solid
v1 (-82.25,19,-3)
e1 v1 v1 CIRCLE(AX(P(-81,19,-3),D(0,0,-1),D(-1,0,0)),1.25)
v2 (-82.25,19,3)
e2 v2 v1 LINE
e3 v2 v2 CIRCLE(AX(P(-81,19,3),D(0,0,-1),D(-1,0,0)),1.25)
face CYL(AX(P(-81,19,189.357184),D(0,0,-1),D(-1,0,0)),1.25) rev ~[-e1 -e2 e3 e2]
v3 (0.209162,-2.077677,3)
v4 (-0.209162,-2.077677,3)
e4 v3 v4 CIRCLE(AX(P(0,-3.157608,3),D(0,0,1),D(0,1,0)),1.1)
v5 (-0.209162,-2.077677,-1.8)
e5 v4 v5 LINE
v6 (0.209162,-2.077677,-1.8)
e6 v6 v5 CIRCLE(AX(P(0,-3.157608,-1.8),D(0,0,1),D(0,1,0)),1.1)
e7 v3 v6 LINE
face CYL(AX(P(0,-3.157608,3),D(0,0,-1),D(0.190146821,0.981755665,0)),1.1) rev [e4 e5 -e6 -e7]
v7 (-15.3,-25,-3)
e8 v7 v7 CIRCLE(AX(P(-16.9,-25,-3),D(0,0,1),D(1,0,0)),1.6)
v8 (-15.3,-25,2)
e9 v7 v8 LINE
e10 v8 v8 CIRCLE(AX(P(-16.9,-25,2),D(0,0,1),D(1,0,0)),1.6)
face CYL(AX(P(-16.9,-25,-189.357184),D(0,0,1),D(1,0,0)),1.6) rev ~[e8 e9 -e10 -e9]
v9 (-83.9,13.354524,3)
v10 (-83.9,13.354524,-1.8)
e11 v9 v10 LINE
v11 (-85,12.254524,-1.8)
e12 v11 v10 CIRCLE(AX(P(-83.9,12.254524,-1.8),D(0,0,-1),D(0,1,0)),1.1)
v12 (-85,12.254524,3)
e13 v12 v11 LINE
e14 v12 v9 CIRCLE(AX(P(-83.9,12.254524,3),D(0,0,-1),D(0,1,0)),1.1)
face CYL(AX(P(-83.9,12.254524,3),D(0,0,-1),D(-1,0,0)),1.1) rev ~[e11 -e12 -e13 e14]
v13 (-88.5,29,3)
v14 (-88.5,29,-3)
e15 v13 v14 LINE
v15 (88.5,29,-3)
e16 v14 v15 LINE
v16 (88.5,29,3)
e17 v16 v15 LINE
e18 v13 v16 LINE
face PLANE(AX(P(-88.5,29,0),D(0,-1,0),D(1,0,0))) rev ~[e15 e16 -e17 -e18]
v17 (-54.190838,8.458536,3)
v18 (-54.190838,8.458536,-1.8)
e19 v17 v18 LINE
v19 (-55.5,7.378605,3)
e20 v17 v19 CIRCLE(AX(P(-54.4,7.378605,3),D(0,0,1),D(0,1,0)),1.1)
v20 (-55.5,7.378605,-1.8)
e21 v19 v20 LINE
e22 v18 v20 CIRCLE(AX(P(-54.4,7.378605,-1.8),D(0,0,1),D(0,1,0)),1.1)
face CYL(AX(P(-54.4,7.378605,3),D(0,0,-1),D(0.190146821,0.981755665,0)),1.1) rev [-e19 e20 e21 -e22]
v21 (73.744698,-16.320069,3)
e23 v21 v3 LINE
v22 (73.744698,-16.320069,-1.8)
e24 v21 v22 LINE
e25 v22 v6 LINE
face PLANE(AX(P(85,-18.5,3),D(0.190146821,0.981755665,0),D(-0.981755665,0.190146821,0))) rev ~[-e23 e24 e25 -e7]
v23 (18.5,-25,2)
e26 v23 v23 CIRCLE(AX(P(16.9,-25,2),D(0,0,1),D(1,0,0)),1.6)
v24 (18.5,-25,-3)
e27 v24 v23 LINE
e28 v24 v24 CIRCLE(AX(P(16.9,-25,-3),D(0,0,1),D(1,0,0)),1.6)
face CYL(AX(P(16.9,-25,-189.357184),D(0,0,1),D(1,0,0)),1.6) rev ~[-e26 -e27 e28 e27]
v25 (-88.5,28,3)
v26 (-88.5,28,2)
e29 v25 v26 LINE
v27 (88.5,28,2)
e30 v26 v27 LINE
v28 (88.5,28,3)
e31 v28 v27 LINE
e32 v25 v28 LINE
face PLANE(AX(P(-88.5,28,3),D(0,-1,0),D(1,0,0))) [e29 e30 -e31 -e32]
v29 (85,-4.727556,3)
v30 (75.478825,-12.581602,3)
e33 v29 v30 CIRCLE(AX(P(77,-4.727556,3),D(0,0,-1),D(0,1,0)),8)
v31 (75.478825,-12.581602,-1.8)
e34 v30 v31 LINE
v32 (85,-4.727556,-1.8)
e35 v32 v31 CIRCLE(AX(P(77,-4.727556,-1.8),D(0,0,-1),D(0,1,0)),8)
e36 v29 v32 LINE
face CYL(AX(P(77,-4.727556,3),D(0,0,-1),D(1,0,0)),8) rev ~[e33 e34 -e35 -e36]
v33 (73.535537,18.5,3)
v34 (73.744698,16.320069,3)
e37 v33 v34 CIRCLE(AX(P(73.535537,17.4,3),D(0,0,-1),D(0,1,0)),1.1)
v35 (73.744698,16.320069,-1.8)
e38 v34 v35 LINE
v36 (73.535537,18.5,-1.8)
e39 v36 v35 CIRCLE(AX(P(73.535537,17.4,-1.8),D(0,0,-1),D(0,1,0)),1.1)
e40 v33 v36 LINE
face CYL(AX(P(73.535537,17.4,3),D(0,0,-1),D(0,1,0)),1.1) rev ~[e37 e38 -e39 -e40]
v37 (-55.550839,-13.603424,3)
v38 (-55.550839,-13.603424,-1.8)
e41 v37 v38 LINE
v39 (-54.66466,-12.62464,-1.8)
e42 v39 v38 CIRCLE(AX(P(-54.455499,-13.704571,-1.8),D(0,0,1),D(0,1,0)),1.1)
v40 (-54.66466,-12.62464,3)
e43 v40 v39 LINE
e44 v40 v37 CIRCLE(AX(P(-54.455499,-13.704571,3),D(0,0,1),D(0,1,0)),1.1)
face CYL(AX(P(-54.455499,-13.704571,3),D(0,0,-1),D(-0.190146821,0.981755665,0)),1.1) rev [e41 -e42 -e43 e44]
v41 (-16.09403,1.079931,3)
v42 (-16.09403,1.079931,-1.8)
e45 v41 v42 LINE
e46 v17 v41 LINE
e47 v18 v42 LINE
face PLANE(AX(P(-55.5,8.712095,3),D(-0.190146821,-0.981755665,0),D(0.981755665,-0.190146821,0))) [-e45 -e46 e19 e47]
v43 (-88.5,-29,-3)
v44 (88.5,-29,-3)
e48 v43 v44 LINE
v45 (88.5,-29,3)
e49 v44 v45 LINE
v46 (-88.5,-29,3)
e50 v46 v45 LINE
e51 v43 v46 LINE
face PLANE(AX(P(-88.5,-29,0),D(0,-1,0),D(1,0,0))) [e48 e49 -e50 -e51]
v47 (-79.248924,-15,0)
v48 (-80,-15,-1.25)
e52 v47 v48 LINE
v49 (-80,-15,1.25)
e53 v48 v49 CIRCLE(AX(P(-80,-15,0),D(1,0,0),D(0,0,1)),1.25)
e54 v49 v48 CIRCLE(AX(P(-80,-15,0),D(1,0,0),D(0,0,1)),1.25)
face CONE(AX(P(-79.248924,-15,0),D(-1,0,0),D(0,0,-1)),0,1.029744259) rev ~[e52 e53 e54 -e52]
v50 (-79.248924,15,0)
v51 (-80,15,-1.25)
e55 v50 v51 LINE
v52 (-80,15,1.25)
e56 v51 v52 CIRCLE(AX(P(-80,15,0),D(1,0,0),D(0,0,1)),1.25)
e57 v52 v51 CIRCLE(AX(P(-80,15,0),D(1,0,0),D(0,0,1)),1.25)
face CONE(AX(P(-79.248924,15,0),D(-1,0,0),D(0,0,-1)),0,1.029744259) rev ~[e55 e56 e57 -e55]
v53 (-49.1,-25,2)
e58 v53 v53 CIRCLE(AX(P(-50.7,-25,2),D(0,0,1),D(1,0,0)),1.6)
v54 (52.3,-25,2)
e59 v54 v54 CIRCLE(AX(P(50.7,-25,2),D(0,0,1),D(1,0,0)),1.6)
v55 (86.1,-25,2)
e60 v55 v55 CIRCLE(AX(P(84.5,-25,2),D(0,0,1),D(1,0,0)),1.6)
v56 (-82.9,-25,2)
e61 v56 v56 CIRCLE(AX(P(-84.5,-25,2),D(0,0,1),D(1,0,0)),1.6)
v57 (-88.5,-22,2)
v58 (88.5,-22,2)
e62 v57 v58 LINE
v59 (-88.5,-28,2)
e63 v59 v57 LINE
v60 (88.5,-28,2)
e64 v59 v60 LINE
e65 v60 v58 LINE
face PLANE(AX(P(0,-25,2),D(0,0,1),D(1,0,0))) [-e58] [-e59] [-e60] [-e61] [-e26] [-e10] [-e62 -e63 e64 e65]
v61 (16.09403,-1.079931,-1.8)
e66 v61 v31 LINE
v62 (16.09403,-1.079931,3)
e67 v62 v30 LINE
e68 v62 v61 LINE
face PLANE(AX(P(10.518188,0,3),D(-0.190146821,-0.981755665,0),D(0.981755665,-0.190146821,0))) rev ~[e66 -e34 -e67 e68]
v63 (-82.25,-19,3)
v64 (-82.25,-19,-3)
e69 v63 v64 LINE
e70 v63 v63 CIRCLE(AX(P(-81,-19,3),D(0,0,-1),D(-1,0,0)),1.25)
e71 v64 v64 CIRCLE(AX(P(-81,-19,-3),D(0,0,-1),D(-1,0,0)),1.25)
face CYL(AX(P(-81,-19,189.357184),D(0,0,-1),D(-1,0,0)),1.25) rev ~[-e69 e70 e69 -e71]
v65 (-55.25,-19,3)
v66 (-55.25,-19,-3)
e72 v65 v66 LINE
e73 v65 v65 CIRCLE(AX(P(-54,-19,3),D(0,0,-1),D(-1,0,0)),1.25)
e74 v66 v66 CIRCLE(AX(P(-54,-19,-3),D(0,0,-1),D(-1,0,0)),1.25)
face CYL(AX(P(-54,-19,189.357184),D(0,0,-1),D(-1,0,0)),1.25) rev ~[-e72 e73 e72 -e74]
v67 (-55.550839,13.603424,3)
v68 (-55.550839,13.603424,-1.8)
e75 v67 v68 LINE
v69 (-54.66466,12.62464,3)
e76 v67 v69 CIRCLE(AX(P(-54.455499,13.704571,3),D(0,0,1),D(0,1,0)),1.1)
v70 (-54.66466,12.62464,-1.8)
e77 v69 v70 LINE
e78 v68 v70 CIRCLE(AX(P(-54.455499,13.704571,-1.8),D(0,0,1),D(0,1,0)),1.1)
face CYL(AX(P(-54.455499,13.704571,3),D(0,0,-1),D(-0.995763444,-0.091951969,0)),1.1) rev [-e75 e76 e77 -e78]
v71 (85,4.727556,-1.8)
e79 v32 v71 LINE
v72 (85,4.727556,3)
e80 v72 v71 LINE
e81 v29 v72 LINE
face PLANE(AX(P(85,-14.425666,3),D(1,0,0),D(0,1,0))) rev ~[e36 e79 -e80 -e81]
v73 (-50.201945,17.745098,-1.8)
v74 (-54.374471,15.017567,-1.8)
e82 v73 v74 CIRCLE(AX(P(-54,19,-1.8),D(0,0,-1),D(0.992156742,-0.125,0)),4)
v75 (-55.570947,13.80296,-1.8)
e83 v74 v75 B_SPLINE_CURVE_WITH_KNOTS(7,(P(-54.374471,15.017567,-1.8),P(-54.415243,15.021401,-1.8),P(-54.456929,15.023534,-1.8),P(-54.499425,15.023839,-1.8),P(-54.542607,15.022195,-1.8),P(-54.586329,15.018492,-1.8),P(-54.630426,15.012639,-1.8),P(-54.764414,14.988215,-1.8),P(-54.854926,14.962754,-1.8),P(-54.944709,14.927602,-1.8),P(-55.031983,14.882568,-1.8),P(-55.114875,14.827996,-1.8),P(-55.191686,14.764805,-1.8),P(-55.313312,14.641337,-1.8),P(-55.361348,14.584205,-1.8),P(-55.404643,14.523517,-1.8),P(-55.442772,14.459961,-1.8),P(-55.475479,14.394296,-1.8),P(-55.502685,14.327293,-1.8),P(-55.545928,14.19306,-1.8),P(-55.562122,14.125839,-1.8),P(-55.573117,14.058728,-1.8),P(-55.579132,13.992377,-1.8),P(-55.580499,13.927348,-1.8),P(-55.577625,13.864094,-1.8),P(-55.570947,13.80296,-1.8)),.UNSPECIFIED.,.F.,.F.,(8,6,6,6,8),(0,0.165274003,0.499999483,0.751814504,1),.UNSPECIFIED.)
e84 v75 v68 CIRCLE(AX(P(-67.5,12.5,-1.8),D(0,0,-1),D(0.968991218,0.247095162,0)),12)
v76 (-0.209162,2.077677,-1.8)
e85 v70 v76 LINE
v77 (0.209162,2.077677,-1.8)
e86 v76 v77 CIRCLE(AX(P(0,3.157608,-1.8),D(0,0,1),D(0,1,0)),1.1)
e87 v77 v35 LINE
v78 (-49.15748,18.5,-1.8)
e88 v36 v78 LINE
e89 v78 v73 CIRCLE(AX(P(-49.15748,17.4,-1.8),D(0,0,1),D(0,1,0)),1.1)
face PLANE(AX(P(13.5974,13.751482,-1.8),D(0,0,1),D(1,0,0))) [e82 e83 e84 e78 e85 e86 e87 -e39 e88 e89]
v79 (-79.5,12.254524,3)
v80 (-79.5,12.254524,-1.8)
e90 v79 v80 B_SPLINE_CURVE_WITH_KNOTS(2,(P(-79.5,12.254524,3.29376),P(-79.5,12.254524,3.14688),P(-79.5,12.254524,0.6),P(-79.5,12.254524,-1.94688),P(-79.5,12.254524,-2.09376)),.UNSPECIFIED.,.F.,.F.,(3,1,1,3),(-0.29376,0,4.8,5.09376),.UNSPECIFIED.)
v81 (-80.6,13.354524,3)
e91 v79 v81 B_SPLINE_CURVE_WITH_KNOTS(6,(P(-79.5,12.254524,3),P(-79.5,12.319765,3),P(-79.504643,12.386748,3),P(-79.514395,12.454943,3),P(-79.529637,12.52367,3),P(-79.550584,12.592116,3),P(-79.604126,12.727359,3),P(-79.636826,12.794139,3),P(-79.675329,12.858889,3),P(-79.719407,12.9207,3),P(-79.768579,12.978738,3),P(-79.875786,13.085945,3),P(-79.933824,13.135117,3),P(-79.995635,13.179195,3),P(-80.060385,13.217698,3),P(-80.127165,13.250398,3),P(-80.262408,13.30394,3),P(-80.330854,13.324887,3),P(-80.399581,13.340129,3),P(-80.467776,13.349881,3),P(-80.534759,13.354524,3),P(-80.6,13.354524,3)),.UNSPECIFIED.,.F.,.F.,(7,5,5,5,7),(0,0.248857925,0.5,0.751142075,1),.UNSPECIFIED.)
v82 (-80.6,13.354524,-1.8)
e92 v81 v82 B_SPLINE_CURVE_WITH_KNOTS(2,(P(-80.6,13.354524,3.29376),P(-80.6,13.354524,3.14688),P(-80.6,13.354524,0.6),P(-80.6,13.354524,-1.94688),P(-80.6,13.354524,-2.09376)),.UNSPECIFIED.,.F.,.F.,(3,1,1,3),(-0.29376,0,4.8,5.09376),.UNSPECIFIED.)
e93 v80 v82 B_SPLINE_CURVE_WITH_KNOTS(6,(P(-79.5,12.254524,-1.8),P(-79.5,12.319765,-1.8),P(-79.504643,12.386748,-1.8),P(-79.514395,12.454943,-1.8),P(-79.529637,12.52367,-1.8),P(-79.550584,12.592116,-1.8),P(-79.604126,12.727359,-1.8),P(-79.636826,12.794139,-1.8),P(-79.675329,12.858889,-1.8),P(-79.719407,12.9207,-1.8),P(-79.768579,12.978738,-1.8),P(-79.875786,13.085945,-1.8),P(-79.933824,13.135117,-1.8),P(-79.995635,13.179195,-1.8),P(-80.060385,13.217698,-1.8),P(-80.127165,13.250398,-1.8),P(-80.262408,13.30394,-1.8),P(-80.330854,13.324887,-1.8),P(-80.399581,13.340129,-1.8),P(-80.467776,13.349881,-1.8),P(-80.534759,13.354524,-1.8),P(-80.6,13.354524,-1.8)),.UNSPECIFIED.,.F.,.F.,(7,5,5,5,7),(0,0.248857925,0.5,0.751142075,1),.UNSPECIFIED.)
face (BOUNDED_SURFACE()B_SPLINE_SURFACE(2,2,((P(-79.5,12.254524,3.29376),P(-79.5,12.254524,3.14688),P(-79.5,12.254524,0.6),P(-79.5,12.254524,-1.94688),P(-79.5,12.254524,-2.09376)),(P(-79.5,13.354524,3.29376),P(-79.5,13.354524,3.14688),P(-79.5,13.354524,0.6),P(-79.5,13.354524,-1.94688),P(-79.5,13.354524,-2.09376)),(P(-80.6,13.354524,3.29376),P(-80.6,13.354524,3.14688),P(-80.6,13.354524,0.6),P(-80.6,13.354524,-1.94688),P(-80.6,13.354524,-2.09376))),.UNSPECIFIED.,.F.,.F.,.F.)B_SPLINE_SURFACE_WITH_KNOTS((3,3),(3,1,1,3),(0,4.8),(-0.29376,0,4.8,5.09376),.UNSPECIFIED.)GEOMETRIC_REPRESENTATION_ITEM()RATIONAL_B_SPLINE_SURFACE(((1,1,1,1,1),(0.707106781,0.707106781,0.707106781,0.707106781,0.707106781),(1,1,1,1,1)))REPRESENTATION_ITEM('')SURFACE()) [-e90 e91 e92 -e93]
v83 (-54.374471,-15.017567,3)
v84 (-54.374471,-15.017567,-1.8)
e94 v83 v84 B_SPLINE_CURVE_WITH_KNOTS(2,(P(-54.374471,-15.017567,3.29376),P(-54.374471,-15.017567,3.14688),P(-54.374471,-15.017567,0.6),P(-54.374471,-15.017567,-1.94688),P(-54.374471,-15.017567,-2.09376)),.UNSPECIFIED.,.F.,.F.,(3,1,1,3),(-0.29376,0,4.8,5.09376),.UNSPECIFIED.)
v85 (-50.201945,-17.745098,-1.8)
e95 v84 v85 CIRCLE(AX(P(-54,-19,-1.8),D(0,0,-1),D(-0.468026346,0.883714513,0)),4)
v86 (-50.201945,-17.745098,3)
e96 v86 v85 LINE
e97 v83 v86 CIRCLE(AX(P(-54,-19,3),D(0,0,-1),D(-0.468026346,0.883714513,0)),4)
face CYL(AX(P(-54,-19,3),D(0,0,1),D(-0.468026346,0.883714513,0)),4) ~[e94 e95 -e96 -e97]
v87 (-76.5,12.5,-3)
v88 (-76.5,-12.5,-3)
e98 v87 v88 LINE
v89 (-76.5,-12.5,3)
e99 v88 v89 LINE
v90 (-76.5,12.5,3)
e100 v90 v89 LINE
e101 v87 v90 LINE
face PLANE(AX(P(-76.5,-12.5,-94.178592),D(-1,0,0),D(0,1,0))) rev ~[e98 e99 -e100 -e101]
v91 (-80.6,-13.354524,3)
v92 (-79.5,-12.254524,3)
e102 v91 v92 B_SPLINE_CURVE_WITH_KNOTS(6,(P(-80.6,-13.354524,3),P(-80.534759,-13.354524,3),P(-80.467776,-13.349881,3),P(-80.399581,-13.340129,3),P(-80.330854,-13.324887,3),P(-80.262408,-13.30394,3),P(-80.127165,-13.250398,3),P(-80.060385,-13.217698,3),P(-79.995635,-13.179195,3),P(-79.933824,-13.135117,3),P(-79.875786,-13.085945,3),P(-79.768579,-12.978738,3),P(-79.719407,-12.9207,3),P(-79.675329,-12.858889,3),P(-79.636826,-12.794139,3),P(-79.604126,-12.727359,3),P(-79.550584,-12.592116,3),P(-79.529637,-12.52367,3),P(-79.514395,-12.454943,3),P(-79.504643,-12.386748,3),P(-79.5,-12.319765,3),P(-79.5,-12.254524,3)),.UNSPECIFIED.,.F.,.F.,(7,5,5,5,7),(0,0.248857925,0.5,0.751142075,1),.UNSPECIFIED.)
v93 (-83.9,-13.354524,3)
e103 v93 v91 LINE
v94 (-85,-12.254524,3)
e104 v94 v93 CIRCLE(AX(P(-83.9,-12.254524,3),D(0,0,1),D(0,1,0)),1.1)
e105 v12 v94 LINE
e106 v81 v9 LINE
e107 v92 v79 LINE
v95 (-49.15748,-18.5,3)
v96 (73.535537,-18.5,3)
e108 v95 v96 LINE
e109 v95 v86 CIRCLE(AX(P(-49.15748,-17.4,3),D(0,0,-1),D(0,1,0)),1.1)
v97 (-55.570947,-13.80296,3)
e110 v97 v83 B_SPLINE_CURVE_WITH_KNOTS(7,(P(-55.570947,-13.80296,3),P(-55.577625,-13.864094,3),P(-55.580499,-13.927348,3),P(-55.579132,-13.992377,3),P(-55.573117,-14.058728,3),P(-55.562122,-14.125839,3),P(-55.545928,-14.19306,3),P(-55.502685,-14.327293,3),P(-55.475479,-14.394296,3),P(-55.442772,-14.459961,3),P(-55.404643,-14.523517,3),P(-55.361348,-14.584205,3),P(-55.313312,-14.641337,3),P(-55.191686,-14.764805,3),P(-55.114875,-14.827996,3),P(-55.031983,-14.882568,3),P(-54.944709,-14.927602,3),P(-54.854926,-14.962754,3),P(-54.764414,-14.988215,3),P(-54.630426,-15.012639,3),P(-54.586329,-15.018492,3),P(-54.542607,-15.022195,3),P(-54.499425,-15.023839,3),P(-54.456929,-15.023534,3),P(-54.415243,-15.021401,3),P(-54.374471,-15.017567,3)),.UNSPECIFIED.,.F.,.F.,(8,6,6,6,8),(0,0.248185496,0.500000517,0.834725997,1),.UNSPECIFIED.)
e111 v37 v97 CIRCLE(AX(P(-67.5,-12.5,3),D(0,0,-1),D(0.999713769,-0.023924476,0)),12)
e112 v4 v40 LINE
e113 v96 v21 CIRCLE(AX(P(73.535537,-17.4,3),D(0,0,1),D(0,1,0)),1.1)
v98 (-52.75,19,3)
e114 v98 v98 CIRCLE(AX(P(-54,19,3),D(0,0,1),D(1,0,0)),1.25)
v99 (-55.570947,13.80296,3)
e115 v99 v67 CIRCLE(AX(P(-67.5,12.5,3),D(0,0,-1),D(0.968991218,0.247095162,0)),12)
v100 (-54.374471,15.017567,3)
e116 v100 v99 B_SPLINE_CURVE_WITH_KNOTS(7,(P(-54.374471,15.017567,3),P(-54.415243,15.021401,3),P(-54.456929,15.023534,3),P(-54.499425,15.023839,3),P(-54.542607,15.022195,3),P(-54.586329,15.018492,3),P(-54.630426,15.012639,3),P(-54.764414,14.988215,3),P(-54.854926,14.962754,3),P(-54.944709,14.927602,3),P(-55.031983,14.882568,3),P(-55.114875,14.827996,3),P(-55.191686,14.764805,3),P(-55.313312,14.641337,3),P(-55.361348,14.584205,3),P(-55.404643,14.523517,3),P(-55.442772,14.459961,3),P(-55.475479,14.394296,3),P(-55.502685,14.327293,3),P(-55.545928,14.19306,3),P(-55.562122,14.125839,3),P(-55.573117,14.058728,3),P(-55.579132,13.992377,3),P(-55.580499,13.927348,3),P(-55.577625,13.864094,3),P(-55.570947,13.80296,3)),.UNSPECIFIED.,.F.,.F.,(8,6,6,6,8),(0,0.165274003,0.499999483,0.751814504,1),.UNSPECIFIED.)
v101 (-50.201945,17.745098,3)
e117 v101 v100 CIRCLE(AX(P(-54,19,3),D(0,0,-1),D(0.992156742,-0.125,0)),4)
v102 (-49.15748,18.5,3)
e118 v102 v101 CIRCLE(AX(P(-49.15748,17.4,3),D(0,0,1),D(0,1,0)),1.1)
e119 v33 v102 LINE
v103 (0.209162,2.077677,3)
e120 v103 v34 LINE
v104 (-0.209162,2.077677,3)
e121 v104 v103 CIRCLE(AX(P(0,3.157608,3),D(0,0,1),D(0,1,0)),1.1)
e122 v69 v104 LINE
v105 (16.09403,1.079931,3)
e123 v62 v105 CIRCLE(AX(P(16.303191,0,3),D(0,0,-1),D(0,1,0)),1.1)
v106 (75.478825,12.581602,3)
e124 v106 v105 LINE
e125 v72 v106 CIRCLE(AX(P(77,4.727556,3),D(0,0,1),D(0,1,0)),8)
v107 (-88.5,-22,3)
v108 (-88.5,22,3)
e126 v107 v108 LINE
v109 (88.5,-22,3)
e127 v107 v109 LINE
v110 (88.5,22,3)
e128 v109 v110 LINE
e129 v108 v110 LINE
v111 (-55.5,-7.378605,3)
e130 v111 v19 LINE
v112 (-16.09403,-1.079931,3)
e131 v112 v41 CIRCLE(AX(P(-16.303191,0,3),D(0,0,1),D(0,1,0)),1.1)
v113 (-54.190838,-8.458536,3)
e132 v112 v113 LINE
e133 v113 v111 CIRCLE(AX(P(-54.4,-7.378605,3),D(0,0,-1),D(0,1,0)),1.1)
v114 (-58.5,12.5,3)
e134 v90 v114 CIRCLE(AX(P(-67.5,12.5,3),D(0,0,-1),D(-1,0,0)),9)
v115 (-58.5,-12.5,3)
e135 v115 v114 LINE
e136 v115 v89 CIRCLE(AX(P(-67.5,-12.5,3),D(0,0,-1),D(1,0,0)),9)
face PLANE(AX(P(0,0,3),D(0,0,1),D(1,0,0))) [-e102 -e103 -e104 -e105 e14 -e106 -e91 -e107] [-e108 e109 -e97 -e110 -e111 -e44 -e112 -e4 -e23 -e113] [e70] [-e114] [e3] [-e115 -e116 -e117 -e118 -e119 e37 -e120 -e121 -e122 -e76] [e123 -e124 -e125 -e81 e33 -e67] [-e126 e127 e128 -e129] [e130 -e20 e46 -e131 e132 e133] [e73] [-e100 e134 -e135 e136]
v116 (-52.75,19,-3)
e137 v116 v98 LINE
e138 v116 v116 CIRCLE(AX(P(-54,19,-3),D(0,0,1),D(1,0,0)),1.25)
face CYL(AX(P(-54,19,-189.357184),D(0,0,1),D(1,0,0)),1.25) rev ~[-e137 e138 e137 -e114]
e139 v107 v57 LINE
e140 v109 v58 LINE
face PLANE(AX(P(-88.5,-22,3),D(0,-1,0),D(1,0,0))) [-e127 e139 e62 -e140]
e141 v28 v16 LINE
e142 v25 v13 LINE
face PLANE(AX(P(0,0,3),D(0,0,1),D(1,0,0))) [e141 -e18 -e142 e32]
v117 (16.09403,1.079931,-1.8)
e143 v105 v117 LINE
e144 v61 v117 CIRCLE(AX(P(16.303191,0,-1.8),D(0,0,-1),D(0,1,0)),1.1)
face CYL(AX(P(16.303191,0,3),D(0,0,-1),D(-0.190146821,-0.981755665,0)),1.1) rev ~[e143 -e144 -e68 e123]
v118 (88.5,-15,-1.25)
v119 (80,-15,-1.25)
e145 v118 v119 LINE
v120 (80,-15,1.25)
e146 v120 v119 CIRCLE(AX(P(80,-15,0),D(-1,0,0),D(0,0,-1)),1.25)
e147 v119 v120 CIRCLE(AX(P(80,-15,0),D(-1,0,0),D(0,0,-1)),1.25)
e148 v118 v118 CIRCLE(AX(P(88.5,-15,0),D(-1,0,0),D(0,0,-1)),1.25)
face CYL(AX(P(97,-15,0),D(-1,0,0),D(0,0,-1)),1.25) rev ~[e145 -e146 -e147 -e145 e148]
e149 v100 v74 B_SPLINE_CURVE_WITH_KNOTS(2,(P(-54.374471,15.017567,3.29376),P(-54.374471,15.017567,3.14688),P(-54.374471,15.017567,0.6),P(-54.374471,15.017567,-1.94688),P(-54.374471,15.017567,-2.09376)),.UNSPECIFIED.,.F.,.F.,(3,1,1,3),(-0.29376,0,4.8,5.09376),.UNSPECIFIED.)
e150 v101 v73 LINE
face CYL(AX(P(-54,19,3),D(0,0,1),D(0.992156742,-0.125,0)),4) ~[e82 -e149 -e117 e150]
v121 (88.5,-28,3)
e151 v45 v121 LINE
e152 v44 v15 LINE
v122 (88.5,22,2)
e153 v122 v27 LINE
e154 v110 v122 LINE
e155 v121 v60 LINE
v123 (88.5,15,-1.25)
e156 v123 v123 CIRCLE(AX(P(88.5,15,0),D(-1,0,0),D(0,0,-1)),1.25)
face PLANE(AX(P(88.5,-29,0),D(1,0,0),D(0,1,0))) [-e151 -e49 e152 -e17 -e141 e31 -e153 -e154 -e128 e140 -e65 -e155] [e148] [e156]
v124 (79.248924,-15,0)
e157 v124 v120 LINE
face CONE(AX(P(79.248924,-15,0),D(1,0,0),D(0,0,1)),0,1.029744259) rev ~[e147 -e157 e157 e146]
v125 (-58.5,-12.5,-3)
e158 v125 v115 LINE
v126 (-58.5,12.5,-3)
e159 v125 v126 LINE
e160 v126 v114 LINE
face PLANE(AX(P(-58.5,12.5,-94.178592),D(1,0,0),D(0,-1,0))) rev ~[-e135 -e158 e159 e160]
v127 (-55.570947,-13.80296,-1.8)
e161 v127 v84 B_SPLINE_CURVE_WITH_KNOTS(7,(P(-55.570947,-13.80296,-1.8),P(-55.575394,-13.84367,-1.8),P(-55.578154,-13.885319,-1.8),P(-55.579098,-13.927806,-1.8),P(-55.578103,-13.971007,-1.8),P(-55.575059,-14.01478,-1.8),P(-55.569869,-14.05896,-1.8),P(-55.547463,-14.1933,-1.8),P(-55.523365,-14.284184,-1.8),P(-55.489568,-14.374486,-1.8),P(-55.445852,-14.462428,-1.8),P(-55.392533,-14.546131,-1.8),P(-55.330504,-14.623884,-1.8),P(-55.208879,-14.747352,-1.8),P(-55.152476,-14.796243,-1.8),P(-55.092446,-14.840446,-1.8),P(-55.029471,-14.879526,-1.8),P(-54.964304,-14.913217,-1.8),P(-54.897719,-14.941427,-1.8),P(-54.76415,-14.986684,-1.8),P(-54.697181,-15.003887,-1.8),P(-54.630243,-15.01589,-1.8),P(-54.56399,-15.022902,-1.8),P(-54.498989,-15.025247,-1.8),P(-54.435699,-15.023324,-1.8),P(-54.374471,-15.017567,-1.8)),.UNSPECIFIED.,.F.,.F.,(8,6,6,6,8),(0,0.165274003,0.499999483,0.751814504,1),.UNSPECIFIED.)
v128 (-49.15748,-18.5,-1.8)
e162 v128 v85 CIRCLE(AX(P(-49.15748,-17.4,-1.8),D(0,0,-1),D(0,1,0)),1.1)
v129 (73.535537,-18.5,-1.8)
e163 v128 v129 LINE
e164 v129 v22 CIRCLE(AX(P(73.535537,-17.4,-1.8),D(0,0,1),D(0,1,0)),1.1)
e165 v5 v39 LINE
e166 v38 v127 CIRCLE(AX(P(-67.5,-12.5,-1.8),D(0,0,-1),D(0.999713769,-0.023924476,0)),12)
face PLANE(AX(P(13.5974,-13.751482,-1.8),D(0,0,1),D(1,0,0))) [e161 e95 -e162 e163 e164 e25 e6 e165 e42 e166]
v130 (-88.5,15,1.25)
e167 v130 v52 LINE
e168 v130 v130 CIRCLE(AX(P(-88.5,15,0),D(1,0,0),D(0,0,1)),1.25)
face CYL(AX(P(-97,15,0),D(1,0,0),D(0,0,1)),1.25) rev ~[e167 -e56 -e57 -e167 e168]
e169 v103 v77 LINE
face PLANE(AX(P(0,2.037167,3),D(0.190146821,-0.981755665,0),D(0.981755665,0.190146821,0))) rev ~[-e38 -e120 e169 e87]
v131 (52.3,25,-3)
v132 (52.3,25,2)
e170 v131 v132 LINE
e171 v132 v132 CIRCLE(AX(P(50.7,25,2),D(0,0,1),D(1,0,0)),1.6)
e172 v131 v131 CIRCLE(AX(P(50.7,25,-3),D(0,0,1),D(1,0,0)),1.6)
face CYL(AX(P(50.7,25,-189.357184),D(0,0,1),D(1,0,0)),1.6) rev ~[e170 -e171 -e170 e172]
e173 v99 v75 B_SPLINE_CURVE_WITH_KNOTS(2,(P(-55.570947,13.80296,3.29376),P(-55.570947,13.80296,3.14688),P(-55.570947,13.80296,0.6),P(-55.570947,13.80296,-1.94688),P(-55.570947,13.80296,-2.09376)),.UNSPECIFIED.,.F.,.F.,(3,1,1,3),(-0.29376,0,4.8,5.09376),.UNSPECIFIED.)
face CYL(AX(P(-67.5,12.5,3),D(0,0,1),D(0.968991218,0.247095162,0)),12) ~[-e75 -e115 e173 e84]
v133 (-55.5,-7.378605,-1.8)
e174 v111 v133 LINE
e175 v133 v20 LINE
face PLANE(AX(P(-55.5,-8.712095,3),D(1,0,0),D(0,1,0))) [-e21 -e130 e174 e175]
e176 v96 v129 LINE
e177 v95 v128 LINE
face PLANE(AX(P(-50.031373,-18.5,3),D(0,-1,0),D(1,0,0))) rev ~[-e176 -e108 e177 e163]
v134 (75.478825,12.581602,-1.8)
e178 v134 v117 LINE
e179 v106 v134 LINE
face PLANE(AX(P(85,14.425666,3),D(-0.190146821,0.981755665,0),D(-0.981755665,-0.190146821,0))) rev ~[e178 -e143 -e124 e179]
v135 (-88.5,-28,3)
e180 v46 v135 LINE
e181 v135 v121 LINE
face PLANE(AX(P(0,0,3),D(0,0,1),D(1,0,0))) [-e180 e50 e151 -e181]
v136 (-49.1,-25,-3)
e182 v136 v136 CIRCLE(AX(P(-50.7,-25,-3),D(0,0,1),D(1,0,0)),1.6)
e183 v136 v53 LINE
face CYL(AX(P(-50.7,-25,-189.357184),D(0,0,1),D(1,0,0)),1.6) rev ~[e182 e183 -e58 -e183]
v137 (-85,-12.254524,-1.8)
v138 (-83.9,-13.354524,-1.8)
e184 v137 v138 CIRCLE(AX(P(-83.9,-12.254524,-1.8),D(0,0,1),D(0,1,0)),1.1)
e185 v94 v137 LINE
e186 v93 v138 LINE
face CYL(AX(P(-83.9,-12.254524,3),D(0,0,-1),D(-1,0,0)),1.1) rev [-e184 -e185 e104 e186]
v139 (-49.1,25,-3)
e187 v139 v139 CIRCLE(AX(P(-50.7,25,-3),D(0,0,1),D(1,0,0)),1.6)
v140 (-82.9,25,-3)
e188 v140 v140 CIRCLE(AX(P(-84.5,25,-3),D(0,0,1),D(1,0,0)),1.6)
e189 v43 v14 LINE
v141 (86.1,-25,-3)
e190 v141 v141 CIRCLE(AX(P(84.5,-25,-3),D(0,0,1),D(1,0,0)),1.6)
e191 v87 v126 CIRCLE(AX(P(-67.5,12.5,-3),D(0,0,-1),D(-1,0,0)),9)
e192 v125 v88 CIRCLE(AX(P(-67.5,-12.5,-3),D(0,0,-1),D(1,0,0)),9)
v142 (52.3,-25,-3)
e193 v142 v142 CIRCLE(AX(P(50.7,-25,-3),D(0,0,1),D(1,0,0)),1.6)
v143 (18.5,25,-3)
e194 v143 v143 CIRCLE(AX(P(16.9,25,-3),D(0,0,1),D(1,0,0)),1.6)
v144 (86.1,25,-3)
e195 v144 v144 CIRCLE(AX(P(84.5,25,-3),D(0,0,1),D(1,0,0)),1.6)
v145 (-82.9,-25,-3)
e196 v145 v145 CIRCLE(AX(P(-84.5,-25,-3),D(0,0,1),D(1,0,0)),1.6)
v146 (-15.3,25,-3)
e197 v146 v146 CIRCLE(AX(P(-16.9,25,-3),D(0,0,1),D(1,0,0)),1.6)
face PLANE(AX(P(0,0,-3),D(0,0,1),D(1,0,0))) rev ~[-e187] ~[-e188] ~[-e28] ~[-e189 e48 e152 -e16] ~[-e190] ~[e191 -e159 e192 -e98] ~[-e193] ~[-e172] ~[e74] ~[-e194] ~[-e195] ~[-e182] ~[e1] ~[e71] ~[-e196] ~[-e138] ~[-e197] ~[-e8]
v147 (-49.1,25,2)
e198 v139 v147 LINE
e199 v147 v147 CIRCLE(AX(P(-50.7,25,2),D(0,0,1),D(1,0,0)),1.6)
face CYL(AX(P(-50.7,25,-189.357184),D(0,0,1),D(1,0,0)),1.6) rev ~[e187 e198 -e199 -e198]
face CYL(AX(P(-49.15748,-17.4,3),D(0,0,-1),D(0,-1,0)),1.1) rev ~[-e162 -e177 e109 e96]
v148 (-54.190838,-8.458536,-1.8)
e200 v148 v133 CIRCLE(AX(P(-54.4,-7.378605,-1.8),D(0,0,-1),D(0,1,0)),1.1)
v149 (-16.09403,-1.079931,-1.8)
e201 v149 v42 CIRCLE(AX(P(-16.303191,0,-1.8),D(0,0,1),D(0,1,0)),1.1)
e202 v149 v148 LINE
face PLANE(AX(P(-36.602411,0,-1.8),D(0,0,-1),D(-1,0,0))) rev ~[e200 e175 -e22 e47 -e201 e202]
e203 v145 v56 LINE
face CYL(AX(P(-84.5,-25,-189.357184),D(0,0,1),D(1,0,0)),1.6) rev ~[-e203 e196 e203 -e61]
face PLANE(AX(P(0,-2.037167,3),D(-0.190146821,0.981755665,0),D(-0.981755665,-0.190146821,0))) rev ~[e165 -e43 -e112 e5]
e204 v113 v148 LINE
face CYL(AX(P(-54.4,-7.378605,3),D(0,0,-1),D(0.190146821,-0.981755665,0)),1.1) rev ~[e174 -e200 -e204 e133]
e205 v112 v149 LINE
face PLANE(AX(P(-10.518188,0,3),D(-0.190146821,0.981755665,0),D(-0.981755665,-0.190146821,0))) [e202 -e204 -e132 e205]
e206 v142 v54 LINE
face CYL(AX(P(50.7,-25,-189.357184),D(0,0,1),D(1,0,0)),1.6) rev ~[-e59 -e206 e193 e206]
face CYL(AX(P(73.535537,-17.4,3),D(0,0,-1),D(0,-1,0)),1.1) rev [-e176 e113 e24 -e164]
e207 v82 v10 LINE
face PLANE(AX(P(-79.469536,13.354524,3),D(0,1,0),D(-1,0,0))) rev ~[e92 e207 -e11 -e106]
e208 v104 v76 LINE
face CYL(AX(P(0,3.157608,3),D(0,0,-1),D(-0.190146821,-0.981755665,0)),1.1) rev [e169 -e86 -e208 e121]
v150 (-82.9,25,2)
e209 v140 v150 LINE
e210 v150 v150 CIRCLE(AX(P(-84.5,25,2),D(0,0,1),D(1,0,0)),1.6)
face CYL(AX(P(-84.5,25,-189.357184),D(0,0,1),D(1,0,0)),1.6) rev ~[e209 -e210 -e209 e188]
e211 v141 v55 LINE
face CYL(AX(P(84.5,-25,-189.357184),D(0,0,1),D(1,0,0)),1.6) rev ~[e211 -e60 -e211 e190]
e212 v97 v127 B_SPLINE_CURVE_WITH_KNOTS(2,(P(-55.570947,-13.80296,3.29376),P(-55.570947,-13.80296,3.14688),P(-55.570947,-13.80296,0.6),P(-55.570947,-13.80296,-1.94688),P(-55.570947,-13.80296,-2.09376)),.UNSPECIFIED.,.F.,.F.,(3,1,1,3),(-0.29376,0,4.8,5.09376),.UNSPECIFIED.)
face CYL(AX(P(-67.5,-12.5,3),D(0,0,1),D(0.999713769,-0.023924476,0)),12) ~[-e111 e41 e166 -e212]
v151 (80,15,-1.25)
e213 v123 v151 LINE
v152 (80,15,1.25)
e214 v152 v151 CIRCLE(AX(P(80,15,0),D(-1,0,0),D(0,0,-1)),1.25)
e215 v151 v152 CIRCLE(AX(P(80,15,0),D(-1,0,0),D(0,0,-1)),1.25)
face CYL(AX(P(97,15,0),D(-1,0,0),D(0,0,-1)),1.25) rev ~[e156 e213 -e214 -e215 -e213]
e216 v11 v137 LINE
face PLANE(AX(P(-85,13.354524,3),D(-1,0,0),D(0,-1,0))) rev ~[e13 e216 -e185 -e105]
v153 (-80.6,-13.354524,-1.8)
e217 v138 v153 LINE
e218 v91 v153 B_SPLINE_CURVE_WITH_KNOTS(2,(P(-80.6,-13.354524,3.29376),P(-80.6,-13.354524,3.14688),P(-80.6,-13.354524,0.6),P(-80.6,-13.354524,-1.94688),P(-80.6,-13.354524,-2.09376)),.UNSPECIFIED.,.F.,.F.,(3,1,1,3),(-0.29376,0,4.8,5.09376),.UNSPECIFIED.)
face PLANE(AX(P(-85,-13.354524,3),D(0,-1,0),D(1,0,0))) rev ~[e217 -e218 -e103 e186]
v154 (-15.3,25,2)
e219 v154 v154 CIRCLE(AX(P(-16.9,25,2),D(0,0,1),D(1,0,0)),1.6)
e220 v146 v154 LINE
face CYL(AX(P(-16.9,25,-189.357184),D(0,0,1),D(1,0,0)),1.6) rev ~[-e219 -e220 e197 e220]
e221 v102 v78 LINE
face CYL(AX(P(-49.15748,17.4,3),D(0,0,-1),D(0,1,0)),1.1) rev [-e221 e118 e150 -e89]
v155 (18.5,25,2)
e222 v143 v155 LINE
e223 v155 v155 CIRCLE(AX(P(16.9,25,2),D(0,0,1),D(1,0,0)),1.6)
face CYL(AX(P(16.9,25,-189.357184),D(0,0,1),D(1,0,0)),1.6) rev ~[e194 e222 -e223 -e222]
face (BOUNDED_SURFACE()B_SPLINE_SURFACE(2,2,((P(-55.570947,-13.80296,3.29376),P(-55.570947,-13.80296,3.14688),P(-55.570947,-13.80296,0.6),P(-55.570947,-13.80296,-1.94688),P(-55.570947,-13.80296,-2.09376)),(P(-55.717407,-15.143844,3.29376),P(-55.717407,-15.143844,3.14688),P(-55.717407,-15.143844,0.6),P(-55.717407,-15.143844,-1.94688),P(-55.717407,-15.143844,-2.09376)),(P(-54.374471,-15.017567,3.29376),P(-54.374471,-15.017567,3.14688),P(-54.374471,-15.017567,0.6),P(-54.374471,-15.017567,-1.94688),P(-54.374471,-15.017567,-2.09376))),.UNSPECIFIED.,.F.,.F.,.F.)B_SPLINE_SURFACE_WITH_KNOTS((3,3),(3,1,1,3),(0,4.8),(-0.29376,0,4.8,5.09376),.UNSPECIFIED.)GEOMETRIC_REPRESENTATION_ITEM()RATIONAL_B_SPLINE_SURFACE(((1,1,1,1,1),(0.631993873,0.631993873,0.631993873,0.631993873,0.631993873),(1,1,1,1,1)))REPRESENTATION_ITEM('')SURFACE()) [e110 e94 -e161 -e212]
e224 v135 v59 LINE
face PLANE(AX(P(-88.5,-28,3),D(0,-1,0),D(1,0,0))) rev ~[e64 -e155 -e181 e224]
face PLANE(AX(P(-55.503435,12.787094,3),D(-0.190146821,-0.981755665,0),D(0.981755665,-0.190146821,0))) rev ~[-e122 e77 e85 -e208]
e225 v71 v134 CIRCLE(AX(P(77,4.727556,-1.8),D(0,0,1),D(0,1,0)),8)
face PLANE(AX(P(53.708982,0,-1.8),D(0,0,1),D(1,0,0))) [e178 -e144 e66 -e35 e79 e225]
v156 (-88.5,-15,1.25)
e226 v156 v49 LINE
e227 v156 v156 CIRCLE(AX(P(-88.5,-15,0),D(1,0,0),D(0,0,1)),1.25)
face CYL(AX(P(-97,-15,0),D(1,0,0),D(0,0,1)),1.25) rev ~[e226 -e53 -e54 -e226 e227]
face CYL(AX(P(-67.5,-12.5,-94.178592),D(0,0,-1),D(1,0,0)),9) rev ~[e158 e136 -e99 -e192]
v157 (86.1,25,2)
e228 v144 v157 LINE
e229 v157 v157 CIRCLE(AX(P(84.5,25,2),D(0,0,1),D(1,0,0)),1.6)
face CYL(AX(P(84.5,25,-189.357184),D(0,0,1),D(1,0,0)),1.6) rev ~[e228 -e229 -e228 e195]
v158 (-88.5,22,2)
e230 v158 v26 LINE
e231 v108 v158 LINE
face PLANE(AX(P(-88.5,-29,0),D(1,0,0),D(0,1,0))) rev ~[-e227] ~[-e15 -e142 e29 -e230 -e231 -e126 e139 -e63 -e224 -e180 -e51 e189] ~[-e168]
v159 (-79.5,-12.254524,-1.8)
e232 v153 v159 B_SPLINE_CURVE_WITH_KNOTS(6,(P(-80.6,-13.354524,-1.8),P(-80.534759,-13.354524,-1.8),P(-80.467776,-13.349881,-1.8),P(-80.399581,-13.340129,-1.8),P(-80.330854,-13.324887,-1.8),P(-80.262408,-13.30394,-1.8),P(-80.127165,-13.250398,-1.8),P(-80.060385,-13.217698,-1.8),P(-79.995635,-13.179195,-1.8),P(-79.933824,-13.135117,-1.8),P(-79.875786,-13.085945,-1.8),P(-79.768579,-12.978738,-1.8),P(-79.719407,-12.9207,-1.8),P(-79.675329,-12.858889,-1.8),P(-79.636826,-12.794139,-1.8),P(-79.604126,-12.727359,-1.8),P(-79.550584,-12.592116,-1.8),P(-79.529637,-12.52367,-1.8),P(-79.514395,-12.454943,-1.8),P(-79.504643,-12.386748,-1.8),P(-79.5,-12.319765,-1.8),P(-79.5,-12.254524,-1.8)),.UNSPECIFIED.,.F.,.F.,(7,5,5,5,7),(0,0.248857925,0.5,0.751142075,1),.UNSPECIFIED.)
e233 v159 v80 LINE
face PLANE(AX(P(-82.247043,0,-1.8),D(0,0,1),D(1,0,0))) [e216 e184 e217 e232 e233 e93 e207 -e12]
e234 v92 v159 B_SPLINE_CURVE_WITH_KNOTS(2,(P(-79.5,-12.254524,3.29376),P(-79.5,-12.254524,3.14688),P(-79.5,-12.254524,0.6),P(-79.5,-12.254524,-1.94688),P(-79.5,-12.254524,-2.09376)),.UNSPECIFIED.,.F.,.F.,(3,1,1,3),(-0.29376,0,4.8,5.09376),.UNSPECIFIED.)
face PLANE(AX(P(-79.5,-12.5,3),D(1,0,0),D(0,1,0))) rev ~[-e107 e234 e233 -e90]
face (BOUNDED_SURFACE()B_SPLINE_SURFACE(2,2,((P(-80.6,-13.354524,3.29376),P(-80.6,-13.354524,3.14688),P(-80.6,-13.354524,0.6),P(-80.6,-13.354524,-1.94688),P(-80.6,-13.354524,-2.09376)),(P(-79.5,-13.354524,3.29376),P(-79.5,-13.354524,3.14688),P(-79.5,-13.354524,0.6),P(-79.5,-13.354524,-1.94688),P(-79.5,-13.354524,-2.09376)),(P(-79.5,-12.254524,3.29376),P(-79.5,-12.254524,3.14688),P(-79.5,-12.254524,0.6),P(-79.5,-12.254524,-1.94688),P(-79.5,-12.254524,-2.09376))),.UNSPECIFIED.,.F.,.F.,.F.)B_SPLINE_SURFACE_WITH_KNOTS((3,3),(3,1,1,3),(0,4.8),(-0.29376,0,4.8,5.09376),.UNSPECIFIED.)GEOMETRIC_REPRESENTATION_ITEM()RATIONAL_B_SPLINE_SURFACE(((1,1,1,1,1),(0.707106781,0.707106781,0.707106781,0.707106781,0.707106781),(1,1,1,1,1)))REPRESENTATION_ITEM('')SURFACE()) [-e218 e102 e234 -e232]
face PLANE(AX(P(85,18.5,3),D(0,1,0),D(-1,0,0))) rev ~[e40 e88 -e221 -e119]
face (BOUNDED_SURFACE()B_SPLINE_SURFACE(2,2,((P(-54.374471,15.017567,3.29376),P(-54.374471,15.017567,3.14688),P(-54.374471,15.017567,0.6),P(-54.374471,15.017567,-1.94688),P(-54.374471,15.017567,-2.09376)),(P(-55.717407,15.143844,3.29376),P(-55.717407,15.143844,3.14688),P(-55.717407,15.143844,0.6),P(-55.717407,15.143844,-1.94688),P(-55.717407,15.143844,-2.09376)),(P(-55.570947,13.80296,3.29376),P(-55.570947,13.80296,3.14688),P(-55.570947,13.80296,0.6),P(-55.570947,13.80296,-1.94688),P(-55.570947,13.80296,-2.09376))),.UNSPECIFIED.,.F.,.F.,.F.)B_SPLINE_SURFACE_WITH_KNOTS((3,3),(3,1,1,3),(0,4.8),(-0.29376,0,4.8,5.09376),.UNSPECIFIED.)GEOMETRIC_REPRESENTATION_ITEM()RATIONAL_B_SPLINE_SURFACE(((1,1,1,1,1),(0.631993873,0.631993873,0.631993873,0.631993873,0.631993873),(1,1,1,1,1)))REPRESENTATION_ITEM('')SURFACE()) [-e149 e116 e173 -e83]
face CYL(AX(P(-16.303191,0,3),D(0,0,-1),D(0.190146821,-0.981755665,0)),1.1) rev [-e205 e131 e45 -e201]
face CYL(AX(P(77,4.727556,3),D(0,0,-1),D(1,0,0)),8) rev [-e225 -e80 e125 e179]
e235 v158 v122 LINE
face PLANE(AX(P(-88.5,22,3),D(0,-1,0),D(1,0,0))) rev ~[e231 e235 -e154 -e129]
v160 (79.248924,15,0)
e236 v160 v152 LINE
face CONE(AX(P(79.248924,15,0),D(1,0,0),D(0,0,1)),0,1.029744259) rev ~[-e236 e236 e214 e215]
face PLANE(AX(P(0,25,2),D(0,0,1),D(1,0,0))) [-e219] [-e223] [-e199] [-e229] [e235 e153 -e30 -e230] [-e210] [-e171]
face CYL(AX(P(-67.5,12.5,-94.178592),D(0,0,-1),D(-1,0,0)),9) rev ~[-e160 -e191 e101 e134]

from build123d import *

# Parameters (mm, degrees)
SKETCH_1_W               = 177
SKETCH_1_H               = 58
EXTRUDE_1_DEPTH          = 3
CUT_EXTRUDE_START        = 3
SKETCH_1_3_W             = 177
SKETCH_1_3_H             = 6
CUT_EXTRUDE_1_DEPTH      = 1
CUT_EXTRUDE_2_DEPTH      = 94.178591962
CUT_EXTRUDE_2_DEPTH_BACK = 94.178591962
HOLE_WIZARD_M3_1_D       = 3.2
M3X0_5_2_D               = 2.5
M3X0_5_2_ON_FACE_2_D     = 2.5
CUT_EXTRUDE_5_DEPTH      = 4.8
FILLET_4_R               = 8
FILLET_5_R               = 1.1
M3X0_5_1_D               = 2.5
M3X0_5_1_DEPTH           = 8.5
M3X0_5_1_TIP             = 0.751075774
M3X0_5_1_ON_FACE_2_D     = 2.5
M3X0_5_1_ON_FACE_2_DEPTH = 8.5
M3X0_5_1_ON_FACE_2_TIP   = 0.751075774


with BuildPart() as part:
    # ｽｹｯﾁ1 → ﾎﾞｽ - 押し出し1 (new, symmetric)
    with BuildSketch(Plane.XY):
        Rectangle(SKETCH_1_W, SKETCH_1_H)
    extrude(amount=EXTRUDE_1_DEPTH, both=True)

    # ｽｹｯﾁ1<3> → ｶｯﾄ - 押し出し1 (cut)
    with BuildSketch(Plane.XY.offset(CUT_EXTRUDE_START)):
        with Locations((0, -25)):
            Rectangle(SKETCH_1_3_W, SKETCH_1_3_H)
        with Locations((0, 25)):
            Rectangle(SKETCH_1_3_W, SKETCH_1_3_H)
    extrude(amount=-CUT_EXTRUDE_1_DEPTH, mode=Mode.SUBTRACT)

    # ｽｹｯﾁ1<4> → ｶｯﾄ - 押し出し2 (cut, two sides: drawn at the far end of the back side and taken through both)
    with BuildSketch(Plane.XY.offset(-CUT_EXTRUDE_2_DEPTH_BACK)):
        with BuildLine():
            Line((-58.5, 12.5), (-58.5, -12.5))
            ThreePointArc((-58.5, -12.5), (-67.5, -21.5), (-76.5, -12.5))
            Line((-76.5, -12.5), (-76.5, 12.5))
            ThreePointArc((-76.5, 12.5), (-67.5, 21.5), (-58.5, 12.5))
        make_face()
    extrude(amount=CUT_EXTRUDE_2_DEPTH + CUT_EXTRUDE_2_DEPTH_BACK, mode=Mode.SUBTRACT)

    # M3 すきま穴1 (through all)
    with Locations(Plane(origin=(-84.5, -25, -3), x_dir=(-1, 0, 0), z_dir=(0, 0, -1))):
        with Locations((0, 0), (-33.8, 0), (-67.6, 0), (-101.4, 0), (-135.2, 0), (-169, 0), (-169, 50), (-135.2, 50), (-101.4, 50), (-67.6, 50), (-33.8, 50), (0, 50)):
            Hole(HOLE_WIZARD_M3_1_D / 2)

    # M3x0.5 ねじ穴2 (through all)
    with Locations(Plane(origin=(-81, 19, 3), x_dir=(1, 0, 0), z_dir=(0, 0, 1))):
        with Locations((0, 0), (0, -38), (27, -38)):
            Hole(M3X0_5_2_D / 2)

    # M3x0.5 ねじ穴2 on face 2 (through all)
    with Locations(Plane(origin=(-54, 19, -3), x_dir=(-1, 0, 0), z_dir=(0, 0, -1))):
        with Locations((0, 0)):
            Hole(M3X0_5_2_ON_FACE_2_D / 2)

    # ｽｹｯﾁ12 → ｶｯﾄ - 押し出し5 (cut)
    with BuildSketch(Plane.XY.offset(3)):
        with BuildLine():
            Line((-85, 13.354524038), (-85, -13.354524038))
            Line((-85, -13.354524038), (-79.469535859, -13.354524038))
            ThreePointArc((-79.469535859, -13.354524038), (-79.492381546, -12.927533448), (-79.5, -12.5))
            Line((-79.5, -12.5), (-79.5, 12.5))
            ThreePointArc((-79.5, 12.5), (-79.492381546, 12.927533448), (-79.469535859, 13.354524038))
            Line((-79.469535859, 13.354524038), (-85, 13.354524038))
        make_face()
        with BuildLine():
            Line((-50.031373033, -18.5), (85, -18.5))
            Line((85, -18.5), (0, -2.037166752))
            Line((0, -2.037166752), (-55.503434775, -12.78709371))
            ThreePointArc((-55.503434775, -12.78709371), (-55.612117039, -14.136532524), (-55.872105383, -15.46514195))
            ThreePointArc((-55.872105383, -15.46514195), (-52.155700259, -15.450555189), (-50.031373033, -18.5))
        make_face()
        Polygon((85, -14.425666496), (85, 14.425666496), (10.518187928, 0), align=None)
        with BuildLine():
            Line((85, 18.5), (-50.031373033, 18.5))
            ThreePointArc((-50.031373033, 18.5), (-52.155700259, 15.450555189), (-55.872105383, 15.46514195))
            ThreePointArc((-55.872105383, 15.46514195), (-55.612117039, 14.136532524), (-55.503434775, 12.78709371))
            Line((-55.503434775, 12.78709371), (0, 2.037166752))
            Line((0, 2.037166752), (85, 18.5))
        make_face()
        Polygon((-55.5, -8.712094957), (-55.5, 8.712094957), (-10.518187928, 0), align=None)
    extrude(amount=-CUT_EXTRUDE_5_DEPTH, mode=Mode.SUBTRACT)

    # ﾌｨﾚｯﾄ4
    fillet_4_edges = [part.edges().sort_by_distance(p)[0] for p in [
        (85, -14.425666496, 0.6),
        (85, 14.425666496, 0.6),
    ]]
    fillet(fillet_4_edges, radius=FILLET_4_R)

    # ﾌｨﾚｯﾄ5
    fillet_5_edges = [part.edges().sort_by_distance(p)[0] for p in [
        (85, -18.5, 0.6),
        (0, -2.037166752, 0.6),
        (-55.503434775, -12.78709371, 0.6),
        (-55.872105383, -15.46514195, 0.6),
        (-50.031373033, -18.5, 0.6),
        (-50.031373033, 18.5, 0.6),
        (-55.872105383, 15.46514195, 0.6),
        (-55.503434775, 12.78709371, 0.6),
        (0, 2.037166752, 0.6),
        (85, 18.5, 0.6),
        (10.518187928, 0, 0.6),
        (-55.5, -8.712094957, 0.6),
        (-10.518187928, 0, 0.6),
        (-55.5, 8.712094957, 0.6),
        (-85, -13.354524038, 0.6),
        (-79.469535859, -13.354524038, 0.6),
        (-85, 13.354524038, 0.6),
        (-79.469535859, 13.354524038, 0.6),
    ]]
    fillet(fillet_5_edges, radius=FILLET_5_R)

    # M3x0.5 ねじ穴1
    with Locations(Plane(origin=(-88.5, 15, 0), x_dir=(0, 0, -1), z_dir=(-1, 0, 0))):
        with Locations((0, 0), (0, 30)):
            Hole(M3X0_5_1_D / 2, depth=M3X0_5_1_DEPTH)
            with Locations((0, 0, -(M3X0_5_1_DEPTH + M3X0_5_1_TIP / 2))):  # 118° drill point
                Cone(0, M3X0_5_1_D / 2, M3X0_5_1_TIP, mode=Mode.SUBTRACT)

    # M3x0.5 ねじ穴1 on face 2
    with Locations(Plane(origin=(88.5, 15, 0), x_dir=(0, 0, 1), z_dir=(1, 0, 0))):
        with Locations((0, 0), (0, 30)):
            Hole(M3X0_5_1_ON_FACE_2_D / 2, depth=M3X0_5_1_ON_FACE_2_DEPTH)
            with Locations((0, 0, -(M3X0_5_1_ON_FACE_2_DEPTH + M3X0_5_1_ON_FACE_2_TIP / 2))):  # 118° drill point
                Cone(0, M3X0_5_1_ON_FACE_2_D / 2, M3X0_5_1_ON_FACE_2_TIP, mode=Mode.SUBTRACT)


solid = part.part
